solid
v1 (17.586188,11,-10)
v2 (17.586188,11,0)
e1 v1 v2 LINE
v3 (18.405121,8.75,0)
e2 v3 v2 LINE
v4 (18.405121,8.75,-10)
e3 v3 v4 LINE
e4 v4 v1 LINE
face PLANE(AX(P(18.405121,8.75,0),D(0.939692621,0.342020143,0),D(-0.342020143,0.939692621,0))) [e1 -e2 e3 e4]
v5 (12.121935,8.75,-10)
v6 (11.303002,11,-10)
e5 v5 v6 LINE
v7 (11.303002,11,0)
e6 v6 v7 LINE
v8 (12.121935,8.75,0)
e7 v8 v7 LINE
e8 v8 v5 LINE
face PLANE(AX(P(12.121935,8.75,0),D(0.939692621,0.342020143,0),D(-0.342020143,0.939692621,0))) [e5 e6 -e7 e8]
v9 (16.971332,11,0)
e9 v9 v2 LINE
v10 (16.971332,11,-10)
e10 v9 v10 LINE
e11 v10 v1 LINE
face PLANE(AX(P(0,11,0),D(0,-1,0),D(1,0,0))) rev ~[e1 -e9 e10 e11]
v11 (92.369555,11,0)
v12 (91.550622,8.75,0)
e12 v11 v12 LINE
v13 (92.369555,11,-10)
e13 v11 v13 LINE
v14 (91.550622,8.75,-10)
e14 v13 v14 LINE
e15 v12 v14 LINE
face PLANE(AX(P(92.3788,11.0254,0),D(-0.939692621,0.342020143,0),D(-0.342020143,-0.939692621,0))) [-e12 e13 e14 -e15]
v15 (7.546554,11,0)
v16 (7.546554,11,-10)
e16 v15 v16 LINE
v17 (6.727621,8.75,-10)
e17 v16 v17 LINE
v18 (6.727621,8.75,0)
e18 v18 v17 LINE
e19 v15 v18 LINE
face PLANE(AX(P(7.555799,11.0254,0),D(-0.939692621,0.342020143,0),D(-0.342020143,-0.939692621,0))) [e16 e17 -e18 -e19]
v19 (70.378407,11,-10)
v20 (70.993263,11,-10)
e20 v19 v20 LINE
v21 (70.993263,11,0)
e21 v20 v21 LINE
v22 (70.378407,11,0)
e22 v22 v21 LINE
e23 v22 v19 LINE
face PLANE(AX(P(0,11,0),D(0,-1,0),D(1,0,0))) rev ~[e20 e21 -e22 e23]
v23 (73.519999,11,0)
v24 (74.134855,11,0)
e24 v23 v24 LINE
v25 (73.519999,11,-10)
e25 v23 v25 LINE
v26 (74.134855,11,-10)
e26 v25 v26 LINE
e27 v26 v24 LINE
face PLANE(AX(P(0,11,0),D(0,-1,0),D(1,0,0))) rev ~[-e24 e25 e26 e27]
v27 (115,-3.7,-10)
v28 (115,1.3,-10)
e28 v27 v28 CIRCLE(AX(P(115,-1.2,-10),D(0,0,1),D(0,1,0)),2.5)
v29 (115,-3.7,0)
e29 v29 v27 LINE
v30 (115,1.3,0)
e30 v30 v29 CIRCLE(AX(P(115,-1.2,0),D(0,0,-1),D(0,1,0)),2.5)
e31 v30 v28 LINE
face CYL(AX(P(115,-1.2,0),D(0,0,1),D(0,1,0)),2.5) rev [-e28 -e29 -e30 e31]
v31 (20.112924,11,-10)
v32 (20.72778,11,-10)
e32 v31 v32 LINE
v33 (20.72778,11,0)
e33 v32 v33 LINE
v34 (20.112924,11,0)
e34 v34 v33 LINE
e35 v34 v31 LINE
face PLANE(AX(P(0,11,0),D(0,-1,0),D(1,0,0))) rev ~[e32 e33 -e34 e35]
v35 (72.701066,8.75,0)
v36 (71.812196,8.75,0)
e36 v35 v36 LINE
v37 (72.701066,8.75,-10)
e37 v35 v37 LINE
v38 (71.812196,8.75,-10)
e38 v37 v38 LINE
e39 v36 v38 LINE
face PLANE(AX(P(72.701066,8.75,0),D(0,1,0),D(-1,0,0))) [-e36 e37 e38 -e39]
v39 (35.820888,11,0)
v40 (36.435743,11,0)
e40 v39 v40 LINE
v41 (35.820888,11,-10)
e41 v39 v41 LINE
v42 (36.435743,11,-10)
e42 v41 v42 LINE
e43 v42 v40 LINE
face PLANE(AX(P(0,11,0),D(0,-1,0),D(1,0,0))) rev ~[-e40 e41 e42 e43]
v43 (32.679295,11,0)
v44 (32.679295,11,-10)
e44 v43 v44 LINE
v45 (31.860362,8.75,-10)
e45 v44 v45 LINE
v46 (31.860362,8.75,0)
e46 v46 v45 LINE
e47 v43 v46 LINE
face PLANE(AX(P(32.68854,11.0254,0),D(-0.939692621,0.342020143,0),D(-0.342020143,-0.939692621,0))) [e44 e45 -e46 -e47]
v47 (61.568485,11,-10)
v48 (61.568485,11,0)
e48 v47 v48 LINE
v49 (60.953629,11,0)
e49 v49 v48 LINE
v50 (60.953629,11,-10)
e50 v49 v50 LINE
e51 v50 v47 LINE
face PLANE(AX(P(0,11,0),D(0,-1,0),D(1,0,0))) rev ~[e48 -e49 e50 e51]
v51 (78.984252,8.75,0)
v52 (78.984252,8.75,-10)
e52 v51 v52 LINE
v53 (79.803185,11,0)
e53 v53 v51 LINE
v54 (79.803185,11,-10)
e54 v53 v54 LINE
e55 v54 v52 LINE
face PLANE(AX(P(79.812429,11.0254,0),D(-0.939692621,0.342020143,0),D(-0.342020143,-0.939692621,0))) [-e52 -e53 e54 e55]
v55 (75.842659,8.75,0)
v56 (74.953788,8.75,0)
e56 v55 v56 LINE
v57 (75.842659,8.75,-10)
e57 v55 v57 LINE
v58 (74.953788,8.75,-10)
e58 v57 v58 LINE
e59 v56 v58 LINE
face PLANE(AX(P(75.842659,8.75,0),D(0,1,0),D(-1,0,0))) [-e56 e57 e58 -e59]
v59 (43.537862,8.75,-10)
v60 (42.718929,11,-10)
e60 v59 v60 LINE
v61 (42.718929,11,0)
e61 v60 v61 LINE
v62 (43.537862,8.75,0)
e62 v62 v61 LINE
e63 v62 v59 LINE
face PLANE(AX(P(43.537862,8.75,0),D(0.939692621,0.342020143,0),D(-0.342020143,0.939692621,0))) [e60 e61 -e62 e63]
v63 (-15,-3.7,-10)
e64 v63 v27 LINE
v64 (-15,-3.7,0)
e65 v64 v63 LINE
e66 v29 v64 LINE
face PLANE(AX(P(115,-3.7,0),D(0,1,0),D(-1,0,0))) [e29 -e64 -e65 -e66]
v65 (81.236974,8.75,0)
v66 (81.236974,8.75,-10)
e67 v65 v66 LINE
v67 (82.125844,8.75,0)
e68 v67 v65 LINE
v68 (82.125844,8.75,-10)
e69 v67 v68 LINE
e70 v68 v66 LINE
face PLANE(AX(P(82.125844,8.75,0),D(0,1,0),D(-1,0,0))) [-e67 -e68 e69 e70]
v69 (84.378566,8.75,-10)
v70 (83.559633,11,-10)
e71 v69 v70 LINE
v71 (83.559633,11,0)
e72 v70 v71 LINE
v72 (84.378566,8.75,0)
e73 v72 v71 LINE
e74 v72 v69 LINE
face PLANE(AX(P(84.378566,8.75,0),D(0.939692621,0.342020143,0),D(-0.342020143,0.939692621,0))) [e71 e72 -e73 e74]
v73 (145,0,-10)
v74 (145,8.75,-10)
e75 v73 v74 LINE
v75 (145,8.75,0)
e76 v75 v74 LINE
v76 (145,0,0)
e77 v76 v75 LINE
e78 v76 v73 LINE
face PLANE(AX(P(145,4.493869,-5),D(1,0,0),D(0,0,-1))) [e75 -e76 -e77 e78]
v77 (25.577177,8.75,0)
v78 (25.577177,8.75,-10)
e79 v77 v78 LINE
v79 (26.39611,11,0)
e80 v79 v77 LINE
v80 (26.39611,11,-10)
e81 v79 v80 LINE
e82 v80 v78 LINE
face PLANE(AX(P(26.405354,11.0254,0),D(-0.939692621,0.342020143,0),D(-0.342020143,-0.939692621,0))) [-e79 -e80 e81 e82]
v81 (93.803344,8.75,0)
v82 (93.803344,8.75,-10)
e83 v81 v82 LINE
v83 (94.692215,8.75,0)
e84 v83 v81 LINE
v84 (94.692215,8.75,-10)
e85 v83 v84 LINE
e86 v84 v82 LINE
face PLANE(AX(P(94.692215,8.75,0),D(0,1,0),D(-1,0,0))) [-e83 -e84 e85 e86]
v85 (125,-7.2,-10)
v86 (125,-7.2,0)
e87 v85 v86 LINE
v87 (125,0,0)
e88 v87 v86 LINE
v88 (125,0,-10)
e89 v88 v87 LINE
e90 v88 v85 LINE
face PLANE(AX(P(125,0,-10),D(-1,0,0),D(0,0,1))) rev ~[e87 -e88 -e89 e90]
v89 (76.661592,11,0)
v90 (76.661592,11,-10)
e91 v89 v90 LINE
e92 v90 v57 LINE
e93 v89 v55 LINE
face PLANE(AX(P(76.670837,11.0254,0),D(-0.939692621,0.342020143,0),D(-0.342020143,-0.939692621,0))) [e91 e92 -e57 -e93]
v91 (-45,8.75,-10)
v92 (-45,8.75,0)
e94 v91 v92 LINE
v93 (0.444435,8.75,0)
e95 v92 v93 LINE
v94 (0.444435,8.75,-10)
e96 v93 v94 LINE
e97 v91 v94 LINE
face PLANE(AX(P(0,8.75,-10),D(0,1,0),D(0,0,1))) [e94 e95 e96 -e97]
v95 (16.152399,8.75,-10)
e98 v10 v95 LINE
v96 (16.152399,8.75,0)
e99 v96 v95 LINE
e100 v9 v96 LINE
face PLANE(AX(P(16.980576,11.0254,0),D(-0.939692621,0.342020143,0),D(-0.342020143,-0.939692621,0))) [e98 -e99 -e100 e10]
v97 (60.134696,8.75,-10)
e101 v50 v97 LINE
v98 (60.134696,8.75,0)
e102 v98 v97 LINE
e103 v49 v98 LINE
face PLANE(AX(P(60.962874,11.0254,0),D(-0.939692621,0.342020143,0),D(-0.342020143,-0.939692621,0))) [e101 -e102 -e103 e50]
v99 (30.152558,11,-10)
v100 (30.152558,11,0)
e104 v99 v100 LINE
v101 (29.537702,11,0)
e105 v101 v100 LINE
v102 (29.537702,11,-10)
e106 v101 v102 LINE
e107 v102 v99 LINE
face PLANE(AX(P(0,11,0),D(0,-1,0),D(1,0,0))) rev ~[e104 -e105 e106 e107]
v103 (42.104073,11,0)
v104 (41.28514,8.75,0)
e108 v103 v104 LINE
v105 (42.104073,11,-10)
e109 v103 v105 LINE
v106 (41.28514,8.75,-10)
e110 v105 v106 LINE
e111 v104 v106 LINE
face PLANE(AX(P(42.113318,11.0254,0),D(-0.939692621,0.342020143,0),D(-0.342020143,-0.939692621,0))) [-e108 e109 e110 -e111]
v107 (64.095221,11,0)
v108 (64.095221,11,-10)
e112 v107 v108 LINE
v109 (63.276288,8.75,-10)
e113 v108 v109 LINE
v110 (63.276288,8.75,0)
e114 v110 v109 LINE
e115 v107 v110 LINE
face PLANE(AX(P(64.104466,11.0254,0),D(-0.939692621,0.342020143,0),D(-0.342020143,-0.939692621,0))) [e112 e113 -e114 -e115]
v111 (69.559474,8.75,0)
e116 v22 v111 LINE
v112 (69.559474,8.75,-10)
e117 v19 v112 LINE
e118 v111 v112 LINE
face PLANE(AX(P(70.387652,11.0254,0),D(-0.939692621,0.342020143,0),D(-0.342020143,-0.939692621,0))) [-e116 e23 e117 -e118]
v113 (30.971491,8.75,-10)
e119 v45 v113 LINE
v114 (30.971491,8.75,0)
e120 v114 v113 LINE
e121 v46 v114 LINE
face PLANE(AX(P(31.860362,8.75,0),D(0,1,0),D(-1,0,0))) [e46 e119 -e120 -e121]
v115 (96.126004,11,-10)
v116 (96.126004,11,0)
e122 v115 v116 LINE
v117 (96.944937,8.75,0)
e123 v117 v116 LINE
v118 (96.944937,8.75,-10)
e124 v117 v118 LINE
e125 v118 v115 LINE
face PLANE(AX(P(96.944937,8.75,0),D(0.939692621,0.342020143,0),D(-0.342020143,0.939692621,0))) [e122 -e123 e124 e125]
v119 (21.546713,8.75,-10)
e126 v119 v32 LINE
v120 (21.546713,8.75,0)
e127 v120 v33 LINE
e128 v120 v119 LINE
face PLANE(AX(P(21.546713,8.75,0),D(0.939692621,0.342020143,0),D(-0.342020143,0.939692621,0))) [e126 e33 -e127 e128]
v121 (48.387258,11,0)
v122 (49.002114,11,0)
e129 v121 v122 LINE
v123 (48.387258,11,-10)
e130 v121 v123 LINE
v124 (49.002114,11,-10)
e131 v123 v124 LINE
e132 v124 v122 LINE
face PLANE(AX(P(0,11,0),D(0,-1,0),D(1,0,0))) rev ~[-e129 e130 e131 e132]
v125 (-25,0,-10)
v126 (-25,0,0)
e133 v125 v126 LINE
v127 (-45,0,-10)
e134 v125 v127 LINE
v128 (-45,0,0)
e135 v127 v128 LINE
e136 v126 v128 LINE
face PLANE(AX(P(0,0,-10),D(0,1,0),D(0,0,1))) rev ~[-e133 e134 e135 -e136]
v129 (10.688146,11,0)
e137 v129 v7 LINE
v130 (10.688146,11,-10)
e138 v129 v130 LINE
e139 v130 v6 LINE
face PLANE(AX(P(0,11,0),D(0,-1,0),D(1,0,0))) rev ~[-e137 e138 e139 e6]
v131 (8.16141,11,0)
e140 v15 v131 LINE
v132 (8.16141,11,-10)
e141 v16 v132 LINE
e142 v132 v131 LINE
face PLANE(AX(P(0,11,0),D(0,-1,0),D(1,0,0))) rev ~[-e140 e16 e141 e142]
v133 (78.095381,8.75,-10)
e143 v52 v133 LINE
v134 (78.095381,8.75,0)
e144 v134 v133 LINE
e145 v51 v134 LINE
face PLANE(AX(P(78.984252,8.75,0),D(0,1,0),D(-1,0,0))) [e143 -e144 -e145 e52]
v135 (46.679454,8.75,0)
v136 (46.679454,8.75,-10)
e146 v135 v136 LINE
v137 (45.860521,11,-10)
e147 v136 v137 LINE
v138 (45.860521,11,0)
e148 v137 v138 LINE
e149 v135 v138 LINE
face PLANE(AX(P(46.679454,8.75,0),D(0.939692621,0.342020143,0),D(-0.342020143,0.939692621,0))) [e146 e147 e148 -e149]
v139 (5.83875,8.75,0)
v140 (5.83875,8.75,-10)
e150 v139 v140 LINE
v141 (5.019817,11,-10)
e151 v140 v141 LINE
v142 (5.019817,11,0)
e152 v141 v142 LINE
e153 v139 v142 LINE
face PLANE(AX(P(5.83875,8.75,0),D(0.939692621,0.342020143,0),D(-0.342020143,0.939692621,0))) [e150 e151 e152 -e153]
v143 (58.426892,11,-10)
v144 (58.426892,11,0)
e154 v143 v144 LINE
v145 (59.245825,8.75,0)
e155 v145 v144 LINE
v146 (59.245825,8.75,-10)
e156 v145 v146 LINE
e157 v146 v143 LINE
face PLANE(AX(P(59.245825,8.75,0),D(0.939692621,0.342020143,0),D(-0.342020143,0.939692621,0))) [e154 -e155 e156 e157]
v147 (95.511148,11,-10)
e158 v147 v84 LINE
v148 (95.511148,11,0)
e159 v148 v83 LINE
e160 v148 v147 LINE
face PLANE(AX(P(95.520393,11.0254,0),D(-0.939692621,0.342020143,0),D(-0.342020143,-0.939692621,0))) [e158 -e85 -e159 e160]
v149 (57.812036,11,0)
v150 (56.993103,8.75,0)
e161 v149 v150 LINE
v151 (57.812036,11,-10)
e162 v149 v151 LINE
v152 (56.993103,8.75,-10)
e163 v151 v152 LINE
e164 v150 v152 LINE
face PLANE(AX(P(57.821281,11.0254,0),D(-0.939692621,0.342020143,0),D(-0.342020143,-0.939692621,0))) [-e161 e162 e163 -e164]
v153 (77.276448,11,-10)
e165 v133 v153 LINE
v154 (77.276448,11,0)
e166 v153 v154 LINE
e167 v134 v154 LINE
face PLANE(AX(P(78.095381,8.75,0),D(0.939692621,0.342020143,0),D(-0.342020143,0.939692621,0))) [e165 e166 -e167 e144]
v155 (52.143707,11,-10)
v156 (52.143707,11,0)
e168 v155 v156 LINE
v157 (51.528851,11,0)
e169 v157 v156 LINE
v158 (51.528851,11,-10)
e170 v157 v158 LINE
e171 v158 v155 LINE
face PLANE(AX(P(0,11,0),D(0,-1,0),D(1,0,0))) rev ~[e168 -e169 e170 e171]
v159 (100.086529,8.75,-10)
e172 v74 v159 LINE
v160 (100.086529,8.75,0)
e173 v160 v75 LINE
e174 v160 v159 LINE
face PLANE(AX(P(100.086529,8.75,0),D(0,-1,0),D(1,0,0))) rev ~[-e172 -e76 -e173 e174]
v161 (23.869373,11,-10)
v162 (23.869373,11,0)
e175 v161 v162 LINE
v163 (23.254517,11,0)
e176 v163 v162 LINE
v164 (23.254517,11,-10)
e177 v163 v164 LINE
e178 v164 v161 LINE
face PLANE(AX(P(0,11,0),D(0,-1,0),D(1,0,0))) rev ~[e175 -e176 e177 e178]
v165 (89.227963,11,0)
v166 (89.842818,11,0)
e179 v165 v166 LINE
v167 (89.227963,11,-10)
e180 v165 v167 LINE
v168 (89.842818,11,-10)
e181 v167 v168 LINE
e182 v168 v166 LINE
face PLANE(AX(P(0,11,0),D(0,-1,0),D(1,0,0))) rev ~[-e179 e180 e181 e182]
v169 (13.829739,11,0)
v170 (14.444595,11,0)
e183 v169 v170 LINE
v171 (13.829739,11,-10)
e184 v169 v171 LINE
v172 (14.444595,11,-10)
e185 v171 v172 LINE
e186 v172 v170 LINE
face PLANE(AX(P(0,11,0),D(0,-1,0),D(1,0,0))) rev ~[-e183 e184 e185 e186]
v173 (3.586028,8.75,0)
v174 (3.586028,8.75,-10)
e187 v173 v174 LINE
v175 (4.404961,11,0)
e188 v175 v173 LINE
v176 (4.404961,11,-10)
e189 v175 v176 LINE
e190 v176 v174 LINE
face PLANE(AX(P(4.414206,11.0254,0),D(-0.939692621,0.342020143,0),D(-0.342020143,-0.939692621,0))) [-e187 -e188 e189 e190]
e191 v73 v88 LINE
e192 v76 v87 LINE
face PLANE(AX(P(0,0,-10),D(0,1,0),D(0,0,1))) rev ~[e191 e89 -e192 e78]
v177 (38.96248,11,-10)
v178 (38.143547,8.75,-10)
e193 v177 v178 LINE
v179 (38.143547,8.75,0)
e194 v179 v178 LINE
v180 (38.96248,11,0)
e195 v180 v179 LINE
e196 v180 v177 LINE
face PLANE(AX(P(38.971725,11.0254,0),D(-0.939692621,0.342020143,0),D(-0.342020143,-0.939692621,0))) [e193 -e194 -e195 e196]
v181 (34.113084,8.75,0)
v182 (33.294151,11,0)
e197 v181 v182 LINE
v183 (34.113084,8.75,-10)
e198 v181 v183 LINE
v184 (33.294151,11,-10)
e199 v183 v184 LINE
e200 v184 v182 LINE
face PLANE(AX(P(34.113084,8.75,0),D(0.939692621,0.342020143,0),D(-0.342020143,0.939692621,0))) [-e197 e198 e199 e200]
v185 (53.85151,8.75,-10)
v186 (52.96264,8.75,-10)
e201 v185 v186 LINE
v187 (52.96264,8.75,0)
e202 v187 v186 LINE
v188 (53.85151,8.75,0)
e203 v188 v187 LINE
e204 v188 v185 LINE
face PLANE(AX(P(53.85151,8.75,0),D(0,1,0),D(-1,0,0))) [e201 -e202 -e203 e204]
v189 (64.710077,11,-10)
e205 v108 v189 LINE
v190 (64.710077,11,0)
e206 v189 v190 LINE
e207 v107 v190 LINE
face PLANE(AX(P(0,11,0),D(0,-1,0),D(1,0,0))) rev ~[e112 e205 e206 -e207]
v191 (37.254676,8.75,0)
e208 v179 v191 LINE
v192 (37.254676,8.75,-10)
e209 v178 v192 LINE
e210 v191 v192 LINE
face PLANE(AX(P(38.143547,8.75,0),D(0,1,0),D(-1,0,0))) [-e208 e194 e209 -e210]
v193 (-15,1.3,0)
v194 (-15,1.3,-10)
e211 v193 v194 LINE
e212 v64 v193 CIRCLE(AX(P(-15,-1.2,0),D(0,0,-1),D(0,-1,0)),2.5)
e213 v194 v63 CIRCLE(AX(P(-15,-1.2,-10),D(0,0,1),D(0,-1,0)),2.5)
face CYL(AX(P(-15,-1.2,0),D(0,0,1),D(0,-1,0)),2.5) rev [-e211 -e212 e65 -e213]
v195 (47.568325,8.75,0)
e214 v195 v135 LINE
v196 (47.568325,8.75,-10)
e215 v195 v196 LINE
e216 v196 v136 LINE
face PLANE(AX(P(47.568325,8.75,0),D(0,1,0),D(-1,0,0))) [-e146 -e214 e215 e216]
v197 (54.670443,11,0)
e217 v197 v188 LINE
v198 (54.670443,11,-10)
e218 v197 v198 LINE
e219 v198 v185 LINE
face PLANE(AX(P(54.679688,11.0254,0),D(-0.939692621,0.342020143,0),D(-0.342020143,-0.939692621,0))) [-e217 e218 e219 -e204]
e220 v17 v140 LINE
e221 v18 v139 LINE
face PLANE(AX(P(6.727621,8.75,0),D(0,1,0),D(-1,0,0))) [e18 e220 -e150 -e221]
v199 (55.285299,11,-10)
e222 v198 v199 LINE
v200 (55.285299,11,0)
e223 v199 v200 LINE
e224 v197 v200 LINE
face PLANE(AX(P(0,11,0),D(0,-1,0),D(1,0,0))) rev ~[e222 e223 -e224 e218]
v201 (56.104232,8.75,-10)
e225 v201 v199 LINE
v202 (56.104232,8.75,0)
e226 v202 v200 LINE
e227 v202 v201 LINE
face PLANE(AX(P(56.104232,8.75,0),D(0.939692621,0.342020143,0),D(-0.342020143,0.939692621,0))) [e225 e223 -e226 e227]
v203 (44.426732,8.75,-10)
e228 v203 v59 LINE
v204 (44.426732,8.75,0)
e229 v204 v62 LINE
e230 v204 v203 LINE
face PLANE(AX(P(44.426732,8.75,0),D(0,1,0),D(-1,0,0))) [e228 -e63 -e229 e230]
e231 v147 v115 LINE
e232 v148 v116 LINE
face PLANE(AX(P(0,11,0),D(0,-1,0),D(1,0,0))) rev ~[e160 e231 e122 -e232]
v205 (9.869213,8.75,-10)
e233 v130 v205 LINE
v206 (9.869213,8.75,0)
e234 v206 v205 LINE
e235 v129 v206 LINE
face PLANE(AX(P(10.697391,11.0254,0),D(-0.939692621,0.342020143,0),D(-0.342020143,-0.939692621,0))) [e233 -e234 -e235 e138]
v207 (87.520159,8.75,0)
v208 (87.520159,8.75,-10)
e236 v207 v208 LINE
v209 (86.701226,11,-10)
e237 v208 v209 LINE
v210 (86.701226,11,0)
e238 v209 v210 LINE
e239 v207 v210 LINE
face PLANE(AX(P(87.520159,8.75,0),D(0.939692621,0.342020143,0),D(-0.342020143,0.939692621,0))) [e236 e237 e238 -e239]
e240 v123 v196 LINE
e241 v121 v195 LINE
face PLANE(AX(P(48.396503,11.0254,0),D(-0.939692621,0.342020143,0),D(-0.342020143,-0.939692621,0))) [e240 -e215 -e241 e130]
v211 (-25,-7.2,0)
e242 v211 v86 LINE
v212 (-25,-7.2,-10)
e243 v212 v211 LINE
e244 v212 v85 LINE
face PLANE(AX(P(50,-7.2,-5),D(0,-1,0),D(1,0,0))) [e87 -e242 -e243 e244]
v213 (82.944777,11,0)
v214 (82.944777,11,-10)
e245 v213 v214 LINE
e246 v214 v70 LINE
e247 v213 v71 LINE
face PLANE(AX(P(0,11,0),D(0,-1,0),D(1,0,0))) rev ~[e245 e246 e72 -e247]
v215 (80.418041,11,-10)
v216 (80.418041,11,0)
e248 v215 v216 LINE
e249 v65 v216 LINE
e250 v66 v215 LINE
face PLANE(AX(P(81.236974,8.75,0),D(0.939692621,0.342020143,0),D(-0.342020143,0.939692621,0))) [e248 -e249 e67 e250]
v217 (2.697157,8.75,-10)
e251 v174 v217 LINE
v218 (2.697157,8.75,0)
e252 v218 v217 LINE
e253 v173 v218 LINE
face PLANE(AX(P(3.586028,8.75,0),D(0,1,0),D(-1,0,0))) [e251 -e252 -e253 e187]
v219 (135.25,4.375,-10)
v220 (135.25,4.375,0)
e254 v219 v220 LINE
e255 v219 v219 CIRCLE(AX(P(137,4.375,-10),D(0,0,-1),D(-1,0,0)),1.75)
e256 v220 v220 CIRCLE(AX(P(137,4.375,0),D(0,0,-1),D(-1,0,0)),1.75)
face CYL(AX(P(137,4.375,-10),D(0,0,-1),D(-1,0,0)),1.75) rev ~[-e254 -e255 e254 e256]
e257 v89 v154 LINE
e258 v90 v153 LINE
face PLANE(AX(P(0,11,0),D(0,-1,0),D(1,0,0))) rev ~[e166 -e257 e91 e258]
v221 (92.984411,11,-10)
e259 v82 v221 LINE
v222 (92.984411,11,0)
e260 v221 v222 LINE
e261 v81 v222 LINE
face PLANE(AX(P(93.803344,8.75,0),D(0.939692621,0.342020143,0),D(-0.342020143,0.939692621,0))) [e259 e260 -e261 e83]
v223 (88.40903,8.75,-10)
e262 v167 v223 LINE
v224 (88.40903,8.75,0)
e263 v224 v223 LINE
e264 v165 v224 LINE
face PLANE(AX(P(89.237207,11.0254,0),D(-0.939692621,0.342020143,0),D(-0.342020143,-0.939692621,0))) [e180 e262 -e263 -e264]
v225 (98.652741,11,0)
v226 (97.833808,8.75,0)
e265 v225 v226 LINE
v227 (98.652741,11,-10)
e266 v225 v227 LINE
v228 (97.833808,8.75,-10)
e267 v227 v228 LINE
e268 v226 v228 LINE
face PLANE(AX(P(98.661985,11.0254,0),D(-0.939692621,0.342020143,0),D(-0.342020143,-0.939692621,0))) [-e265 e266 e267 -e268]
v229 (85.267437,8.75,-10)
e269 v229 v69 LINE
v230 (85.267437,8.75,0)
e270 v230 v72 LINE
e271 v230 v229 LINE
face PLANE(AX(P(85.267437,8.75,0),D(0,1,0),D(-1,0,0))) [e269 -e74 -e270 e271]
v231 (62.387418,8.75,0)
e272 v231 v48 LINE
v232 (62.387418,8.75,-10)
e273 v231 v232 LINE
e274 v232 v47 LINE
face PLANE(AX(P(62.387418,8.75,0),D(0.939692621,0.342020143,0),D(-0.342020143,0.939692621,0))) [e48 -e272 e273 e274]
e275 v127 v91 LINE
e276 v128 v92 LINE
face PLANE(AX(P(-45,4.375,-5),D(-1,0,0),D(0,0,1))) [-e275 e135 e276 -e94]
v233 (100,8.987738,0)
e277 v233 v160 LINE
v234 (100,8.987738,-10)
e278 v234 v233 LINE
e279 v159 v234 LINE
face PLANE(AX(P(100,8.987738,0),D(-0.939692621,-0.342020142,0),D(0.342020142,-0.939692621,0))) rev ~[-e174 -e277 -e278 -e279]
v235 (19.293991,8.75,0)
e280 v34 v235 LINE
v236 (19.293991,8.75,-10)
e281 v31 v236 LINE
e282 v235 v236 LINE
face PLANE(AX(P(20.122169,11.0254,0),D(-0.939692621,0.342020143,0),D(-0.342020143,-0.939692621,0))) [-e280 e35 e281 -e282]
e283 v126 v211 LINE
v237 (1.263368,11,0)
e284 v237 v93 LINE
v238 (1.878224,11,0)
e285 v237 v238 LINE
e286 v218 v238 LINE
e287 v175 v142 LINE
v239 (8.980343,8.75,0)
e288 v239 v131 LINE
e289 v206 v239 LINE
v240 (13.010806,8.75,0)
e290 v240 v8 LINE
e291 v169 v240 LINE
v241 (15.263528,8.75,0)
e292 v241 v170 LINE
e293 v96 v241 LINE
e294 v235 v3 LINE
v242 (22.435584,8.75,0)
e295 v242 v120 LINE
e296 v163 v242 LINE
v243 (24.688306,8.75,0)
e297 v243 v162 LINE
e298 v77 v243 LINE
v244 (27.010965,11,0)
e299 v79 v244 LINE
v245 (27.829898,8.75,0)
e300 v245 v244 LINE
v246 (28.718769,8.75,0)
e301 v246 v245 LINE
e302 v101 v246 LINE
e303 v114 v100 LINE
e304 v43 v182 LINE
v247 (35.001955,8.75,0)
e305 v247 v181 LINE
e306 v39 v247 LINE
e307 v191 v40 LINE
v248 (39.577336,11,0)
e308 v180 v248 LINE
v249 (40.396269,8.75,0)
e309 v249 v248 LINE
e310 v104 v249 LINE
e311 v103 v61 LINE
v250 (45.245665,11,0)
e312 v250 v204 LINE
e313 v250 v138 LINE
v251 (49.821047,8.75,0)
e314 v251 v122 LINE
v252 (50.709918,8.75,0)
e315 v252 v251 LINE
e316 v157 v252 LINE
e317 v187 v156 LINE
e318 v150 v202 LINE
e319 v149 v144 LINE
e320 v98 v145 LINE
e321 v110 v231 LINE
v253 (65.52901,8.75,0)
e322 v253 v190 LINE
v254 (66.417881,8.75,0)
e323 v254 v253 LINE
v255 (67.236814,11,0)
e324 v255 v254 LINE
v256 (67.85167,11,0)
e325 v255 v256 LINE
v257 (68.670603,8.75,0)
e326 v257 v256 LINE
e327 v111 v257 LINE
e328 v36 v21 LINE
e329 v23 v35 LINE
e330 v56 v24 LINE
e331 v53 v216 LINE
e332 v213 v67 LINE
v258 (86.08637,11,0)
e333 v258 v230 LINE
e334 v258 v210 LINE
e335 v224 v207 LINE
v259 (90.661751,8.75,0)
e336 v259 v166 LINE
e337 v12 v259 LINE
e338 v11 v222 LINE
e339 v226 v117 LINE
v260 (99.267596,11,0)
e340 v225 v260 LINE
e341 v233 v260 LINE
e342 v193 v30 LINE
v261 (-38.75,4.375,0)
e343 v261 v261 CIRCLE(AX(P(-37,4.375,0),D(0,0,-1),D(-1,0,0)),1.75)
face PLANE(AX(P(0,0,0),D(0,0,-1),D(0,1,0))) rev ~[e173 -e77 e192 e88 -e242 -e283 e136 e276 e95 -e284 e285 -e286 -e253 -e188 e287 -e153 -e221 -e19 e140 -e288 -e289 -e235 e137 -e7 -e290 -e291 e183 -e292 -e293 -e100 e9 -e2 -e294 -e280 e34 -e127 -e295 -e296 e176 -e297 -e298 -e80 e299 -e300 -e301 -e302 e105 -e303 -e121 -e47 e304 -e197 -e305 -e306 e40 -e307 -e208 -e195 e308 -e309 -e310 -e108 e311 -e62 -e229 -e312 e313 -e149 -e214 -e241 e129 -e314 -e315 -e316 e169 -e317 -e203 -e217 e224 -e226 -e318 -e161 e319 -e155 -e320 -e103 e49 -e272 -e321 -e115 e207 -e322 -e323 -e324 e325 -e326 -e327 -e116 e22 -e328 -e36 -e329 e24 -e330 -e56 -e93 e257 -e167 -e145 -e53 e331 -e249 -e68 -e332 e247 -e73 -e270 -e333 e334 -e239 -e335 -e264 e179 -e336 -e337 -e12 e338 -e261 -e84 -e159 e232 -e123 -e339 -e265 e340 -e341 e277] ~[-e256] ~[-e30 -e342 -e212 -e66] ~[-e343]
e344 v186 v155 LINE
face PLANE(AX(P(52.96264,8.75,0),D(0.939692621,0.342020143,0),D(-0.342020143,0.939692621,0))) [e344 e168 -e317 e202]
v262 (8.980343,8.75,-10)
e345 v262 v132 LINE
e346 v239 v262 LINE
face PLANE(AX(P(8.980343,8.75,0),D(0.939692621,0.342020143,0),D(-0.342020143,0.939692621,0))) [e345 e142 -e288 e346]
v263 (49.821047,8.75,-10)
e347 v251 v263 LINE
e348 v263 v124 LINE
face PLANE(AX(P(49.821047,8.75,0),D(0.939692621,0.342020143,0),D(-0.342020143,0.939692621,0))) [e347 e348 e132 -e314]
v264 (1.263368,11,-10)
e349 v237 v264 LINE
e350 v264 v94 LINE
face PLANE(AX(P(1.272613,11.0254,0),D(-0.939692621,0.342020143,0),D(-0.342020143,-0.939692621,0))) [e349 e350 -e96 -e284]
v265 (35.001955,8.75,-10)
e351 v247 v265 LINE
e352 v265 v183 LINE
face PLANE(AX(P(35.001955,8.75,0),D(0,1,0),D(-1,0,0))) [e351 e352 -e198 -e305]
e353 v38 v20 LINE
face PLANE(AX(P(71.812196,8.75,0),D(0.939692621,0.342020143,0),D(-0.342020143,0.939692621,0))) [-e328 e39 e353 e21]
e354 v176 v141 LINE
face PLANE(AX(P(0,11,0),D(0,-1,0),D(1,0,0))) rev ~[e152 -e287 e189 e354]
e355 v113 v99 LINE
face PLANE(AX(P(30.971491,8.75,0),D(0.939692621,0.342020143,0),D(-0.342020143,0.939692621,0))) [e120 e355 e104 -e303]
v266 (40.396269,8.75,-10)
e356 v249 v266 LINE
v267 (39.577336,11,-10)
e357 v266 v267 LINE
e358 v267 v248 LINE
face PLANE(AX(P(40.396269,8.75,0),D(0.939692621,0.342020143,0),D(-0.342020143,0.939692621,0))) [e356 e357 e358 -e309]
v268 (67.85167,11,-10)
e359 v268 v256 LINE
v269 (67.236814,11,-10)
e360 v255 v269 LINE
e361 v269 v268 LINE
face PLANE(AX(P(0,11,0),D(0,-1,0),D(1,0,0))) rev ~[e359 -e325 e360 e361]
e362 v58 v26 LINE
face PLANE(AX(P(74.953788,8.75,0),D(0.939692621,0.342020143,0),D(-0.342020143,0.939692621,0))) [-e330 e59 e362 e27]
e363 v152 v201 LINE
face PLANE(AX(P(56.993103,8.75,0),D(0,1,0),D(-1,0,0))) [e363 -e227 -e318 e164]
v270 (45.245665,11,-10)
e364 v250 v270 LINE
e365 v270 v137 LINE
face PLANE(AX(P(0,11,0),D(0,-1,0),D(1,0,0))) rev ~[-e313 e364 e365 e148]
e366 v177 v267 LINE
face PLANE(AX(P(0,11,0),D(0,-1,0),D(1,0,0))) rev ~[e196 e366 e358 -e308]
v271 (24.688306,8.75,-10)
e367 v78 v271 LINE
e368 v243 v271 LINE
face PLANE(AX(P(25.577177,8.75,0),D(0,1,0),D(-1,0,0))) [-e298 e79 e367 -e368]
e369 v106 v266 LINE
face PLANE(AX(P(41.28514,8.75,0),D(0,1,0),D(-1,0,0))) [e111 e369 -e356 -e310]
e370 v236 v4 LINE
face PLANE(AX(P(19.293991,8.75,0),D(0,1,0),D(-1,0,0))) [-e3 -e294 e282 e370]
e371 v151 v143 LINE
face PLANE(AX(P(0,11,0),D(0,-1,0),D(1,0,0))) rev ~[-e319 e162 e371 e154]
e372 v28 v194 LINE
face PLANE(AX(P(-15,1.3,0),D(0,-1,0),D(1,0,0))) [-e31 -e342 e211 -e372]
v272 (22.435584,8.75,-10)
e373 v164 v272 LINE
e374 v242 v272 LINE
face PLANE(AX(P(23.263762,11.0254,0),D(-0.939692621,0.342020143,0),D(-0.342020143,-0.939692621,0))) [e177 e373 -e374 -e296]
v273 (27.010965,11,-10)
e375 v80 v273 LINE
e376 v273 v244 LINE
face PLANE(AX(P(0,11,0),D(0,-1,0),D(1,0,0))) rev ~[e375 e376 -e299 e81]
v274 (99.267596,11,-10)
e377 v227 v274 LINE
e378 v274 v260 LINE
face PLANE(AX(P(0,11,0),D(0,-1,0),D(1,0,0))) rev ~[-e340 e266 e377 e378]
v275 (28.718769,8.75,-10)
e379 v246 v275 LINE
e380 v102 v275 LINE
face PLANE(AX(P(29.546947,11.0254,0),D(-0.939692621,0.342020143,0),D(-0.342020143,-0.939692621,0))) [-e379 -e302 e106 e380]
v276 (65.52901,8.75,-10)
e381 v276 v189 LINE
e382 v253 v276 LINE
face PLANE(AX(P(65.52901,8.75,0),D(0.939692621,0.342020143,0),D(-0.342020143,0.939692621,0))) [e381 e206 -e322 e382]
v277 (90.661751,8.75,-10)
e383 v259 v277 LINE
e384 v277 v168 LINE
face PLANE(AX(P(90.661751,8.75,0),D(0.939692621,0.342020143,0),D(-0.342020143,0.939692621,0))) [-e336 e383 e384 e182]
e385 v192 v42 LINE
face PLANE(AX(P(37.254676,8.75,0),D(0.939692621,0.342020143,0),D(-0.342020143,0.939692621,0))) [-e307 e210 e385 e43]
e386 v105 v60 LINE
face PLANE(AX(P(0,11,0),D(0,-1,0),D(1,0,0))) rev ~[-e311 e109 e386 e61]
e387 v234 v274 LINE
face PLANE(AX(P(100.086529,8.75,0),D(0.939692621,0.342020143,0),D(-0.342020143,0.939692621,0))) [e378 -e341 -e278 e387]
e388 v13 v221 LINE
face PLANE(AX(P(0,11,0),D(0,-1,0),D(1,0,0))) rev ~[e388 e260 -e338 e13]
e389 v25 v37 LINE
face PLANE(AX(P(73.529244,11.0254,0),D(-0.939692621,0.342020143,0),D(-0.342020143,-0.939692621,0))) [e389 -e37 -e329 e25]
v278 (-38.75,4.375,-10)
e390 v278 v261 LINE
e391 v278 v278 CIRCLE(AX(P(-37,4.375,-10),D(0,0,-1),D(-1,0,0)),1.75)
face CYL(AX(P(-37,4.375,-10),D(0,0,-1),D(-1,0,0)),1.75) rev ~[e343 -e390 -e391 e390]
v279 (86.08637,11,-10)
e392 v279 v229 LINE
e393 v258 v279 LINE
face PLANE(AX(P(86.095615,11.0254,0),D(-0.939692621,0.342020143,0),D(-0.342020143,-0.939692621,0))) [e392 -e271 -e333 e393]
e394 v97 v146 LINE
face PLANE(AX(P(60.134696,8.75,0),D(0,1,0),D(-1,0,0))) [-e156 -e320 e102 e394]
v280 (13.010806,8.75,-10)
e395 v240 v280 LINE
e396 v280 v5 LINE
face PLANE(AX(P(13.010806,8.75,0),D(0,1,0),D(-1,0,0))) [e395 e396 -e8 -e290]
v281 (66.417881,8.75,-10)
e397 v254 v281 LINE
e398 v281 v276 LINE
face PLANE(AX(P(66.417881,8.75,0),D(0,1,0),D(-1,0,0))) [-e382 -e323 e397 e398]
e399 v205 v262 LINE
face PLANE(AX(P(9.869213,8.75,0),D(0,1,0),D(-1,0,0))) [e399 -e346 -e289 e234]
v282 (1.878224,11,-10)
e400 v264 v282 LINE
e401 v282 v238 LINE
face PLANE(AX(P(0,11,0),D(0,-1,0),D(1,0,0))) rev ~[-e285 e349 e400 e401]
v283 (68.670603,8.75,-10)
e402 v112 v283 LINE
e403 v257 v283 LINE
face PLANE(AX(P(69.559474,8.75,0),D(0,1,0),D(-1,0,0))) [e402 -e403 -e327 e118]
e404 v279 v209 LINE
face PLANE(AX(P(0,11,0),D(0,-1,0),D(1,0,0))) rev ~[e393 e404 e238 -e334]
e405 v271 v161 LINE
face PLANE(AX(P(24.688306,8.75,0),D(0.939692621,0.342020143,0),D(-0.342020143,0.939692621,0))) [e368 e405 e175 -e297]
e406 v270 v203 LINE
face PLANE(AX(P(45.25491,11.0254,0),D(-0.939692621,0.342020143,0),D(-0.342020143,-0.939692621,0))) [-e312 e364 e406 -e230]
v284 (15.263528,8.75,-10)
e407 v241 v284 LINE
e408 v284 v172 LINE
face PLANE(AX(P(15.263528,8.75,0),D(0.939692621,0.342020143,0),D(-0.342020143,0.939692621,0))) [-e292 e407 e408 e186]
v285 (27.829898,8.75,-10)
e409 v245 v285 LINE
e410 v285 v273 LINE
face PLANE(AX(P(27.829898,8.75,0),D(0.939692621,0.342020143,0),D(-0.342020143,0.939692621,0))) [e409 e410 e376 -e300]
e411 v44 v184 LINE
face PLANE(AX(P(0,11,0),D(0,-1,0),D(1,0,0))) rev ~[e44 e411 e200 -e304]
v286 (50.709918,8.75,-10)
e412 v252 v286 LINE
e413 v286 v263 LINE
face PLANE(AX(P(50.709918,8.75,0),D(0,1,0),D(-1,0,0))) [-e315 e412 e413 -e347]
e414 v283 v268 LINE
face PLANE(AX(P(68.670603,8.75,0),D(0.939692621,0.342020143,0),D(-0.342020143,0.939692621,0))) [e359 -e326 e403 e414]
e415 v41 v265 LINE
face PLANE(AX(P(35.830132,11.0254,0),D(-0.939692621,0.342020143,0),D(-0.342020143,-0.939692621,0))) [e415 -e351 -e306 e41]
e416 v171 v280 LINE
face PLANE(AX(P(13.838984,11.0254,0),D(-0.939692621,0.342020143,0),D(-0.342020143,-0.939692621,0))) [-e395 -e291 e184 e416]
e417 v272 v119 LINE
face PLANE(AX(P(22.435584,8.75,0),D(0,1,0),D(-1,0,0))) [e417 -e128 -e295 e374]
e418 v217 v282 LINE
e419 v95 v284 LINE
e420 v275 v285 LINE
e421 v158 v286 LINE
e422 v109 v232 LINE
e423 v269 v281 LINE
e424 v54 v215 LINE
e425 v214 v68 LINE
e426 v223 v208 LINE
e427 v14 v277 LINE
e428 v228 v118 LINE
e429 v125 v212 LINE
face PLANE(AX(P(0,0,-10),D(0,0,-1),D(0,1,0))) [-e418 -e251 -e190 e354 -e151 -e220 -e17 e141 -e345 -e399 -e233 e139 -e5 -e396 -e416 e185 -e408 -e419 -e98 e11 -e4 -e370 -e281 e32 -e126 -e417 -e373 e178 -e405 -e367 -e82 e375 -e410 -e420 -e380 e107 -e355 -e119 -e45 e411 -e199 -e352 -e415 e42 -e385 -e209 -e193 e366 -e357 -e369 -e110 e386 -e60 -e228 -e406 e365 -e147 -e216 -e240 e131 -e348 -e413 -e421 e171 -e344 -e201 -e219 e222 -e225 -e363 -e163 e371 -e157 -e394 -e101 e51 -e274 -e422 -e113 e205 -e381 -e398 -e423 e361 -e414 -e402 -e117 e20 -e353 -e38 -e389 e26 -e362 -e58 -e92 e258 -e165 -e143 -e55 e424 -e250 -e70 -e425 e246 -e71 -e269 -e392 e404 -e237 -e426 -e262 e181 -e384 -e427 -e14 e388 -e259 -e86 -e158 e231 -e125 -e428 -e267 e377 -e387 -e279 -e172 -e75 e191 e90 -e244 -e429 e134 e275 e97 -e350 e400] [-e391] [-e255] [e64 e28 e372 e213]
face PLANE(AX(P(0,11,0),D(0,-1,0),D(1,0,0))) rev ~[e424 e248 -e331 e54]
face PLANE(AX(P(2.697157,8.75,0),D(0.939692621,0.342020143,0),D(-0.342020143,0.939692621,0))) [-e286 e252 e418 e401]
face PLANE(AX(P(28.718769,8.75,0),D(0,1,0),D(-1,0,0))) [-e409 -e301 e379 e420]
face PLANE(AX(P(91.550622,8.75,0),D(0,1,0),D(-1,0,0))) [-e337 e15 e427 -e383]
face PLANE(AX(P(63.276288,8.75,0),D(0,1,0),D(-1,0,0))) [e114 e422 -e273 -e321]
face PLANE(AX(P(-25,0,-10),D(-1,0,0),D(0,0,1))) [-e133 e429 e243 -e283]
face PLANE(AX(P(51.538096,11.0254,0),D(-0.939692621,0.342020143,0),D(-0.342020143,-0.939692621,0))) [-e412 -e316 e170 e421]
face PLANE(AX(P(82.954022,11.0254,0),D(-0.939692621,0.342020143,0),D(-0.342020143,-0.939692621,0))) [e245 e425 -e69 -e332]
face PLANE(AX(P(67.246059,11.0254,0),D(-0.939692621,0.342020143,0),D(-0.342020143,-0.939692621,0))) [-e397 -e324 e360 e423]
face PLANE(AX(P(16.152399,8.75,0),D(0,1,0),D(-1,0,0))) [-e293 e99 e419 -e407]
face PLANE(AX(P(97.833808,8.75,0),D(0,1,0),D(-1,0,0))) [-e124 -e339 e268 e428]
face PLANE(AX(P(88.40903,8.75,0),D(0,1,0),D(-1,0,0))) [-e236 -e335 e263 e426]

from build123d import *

# Parameters (mm, degrees)
BLANKSKE_W          = 100
BLANKSKE_H          = 11
BLANK_DEPTH         = 10
TOOTHCUTSIM_DEPTH   = 102.098961419
TEETHCUTS_COUNT     = 33
TEETHCUTS_PITCH     = 3.14159265
SKETCH1_W           = 10
SKETCH1_H           = 8.987737656
BOSS_EXTRUDE1_DEPTH = 45
SKETCH2_W           = 10
SKETCH2_H           = 8.75
BOSS_EXTRUDE2_DEPTH = 45
SKETCH3_R           = 1.75
CUT_EXTRUDE1_DEPTH  = 146.760076839
SKETCH4_W           = 150
SKETCH4_H           = 10
BOSS_EXTRUDE3_DEPTH = 7.2
CUT_EXTRUDE2_DEPTH  = 146.760076839
CUT_EXTRUDE3_DEPTH  = 146.760076839


with BuildPart() as part:
    # BlankSke → Blank (new body)
    with BuildSketch(Plane.XY):
        with Locations((50, 5.5)):
            Rectangle(BLANKSKE_W, BLANKSKE_H)
    extrude(amount=-BLANK_DEPTH)

    # TooCutSkeSim → ToothCutSim (cut, through all)
    with BuildSketch(Plane.XY):
        Polygon((0.44443537, 8.75), (-0.44443537, 8.75), (-1.272613241, 11.0254), (1.272613241, 11.0254), align=None)
    toothcutsim = extrude(amount=-TOOTHCUTSIM_DEPTH, mode=Mode.SUBTRACT)

    # TeethCuts: ToothCutSim ×33
    with Locations(*[(i * TEETHCUTS_PITCH, 0, 0) for i in range(1, TEETHCUTS_COUNT)]):
        add(toothcutsim, mode=Mode.SUBTRACT)

    # Sketch1 → Boss-Extrude1 (add)
    with BuildSketch(Plane(origin=(100, 0, 0), x_dir=(0, 0, -1), z_dir=(1, 0, 0))):
        with Locations((5, 4.493868828)):
            Rectangle(SKETCH1_W, SKETCH1_H)
    extrude(amount=BOSS_EXTRUDE1_DEPTH)

    # Sketch2 → Boss-Extrude2 (add)
    with BuildSketch(Plane.ZY):
        with Locations((-5, 4.375)):
            Rectangle(SKETCH2_W, SKETCH2_H)
    extrude(amount=BOSS_EXTRUDE2_DEPTH)

    # Sketch3 → Cut-Extrude1 (cut, through all)
    with BuildSketch(Plane(origin=(0, 0, -10), x_dir=(-1, 0, 0), z_dir=(0, 0, -1))):
        with Locations((-137, 4.375)):
            Circle(SKETCH3_R)
        with Locations((37, 4.375)):
            Circle(SKETCH3_R)
    extrude(amount=-CUT_EXTRUDE1_DEPTH, mode=Mode.SUBTRACT)

    # Sketch4 → Boss-Extrude3 (add)
    with BuildSketch(Plane.XZ):
        with Locations((50, -5)):
            Rectangle(SKETCH4_W, SKETCH4_H)
    extrude(amount=BOSS_EXTRUDE3_DEPTH)

    # Sketch5 → Cut-Extrude2 (cut, through all)
    with BuildSketch(Plane.XY):
        with BuildLine():
            Line((-15, 1.3), (115, 1.3))
            ThreePointArc((115, 1.3), (117.5, -1.2), (115, -3.7))
            Line((115, -3.7), (-15, -3.7))
            ThreePointArc((-15, -3.7), (-17.5, -1.2), (-15, 1.3))
        make_face()
    extrude(amount=-CUT_EXTRUDE2_DEPTH, mode=Mode.SUBTRACT)

    # Sketch6 → Cut-Extrude3 (cut, through all)
    with BuildSketch(Plane.XY):
        Polygon((100, 8.987737656), (100.08652943, 8.75), (145, 8.75), (145, 8.987737656), align=None)
    extrude(amount=-CUT_EXTRUDE3_DEPTH, mode=Mode.SUBTRACT)


solid = part.part
